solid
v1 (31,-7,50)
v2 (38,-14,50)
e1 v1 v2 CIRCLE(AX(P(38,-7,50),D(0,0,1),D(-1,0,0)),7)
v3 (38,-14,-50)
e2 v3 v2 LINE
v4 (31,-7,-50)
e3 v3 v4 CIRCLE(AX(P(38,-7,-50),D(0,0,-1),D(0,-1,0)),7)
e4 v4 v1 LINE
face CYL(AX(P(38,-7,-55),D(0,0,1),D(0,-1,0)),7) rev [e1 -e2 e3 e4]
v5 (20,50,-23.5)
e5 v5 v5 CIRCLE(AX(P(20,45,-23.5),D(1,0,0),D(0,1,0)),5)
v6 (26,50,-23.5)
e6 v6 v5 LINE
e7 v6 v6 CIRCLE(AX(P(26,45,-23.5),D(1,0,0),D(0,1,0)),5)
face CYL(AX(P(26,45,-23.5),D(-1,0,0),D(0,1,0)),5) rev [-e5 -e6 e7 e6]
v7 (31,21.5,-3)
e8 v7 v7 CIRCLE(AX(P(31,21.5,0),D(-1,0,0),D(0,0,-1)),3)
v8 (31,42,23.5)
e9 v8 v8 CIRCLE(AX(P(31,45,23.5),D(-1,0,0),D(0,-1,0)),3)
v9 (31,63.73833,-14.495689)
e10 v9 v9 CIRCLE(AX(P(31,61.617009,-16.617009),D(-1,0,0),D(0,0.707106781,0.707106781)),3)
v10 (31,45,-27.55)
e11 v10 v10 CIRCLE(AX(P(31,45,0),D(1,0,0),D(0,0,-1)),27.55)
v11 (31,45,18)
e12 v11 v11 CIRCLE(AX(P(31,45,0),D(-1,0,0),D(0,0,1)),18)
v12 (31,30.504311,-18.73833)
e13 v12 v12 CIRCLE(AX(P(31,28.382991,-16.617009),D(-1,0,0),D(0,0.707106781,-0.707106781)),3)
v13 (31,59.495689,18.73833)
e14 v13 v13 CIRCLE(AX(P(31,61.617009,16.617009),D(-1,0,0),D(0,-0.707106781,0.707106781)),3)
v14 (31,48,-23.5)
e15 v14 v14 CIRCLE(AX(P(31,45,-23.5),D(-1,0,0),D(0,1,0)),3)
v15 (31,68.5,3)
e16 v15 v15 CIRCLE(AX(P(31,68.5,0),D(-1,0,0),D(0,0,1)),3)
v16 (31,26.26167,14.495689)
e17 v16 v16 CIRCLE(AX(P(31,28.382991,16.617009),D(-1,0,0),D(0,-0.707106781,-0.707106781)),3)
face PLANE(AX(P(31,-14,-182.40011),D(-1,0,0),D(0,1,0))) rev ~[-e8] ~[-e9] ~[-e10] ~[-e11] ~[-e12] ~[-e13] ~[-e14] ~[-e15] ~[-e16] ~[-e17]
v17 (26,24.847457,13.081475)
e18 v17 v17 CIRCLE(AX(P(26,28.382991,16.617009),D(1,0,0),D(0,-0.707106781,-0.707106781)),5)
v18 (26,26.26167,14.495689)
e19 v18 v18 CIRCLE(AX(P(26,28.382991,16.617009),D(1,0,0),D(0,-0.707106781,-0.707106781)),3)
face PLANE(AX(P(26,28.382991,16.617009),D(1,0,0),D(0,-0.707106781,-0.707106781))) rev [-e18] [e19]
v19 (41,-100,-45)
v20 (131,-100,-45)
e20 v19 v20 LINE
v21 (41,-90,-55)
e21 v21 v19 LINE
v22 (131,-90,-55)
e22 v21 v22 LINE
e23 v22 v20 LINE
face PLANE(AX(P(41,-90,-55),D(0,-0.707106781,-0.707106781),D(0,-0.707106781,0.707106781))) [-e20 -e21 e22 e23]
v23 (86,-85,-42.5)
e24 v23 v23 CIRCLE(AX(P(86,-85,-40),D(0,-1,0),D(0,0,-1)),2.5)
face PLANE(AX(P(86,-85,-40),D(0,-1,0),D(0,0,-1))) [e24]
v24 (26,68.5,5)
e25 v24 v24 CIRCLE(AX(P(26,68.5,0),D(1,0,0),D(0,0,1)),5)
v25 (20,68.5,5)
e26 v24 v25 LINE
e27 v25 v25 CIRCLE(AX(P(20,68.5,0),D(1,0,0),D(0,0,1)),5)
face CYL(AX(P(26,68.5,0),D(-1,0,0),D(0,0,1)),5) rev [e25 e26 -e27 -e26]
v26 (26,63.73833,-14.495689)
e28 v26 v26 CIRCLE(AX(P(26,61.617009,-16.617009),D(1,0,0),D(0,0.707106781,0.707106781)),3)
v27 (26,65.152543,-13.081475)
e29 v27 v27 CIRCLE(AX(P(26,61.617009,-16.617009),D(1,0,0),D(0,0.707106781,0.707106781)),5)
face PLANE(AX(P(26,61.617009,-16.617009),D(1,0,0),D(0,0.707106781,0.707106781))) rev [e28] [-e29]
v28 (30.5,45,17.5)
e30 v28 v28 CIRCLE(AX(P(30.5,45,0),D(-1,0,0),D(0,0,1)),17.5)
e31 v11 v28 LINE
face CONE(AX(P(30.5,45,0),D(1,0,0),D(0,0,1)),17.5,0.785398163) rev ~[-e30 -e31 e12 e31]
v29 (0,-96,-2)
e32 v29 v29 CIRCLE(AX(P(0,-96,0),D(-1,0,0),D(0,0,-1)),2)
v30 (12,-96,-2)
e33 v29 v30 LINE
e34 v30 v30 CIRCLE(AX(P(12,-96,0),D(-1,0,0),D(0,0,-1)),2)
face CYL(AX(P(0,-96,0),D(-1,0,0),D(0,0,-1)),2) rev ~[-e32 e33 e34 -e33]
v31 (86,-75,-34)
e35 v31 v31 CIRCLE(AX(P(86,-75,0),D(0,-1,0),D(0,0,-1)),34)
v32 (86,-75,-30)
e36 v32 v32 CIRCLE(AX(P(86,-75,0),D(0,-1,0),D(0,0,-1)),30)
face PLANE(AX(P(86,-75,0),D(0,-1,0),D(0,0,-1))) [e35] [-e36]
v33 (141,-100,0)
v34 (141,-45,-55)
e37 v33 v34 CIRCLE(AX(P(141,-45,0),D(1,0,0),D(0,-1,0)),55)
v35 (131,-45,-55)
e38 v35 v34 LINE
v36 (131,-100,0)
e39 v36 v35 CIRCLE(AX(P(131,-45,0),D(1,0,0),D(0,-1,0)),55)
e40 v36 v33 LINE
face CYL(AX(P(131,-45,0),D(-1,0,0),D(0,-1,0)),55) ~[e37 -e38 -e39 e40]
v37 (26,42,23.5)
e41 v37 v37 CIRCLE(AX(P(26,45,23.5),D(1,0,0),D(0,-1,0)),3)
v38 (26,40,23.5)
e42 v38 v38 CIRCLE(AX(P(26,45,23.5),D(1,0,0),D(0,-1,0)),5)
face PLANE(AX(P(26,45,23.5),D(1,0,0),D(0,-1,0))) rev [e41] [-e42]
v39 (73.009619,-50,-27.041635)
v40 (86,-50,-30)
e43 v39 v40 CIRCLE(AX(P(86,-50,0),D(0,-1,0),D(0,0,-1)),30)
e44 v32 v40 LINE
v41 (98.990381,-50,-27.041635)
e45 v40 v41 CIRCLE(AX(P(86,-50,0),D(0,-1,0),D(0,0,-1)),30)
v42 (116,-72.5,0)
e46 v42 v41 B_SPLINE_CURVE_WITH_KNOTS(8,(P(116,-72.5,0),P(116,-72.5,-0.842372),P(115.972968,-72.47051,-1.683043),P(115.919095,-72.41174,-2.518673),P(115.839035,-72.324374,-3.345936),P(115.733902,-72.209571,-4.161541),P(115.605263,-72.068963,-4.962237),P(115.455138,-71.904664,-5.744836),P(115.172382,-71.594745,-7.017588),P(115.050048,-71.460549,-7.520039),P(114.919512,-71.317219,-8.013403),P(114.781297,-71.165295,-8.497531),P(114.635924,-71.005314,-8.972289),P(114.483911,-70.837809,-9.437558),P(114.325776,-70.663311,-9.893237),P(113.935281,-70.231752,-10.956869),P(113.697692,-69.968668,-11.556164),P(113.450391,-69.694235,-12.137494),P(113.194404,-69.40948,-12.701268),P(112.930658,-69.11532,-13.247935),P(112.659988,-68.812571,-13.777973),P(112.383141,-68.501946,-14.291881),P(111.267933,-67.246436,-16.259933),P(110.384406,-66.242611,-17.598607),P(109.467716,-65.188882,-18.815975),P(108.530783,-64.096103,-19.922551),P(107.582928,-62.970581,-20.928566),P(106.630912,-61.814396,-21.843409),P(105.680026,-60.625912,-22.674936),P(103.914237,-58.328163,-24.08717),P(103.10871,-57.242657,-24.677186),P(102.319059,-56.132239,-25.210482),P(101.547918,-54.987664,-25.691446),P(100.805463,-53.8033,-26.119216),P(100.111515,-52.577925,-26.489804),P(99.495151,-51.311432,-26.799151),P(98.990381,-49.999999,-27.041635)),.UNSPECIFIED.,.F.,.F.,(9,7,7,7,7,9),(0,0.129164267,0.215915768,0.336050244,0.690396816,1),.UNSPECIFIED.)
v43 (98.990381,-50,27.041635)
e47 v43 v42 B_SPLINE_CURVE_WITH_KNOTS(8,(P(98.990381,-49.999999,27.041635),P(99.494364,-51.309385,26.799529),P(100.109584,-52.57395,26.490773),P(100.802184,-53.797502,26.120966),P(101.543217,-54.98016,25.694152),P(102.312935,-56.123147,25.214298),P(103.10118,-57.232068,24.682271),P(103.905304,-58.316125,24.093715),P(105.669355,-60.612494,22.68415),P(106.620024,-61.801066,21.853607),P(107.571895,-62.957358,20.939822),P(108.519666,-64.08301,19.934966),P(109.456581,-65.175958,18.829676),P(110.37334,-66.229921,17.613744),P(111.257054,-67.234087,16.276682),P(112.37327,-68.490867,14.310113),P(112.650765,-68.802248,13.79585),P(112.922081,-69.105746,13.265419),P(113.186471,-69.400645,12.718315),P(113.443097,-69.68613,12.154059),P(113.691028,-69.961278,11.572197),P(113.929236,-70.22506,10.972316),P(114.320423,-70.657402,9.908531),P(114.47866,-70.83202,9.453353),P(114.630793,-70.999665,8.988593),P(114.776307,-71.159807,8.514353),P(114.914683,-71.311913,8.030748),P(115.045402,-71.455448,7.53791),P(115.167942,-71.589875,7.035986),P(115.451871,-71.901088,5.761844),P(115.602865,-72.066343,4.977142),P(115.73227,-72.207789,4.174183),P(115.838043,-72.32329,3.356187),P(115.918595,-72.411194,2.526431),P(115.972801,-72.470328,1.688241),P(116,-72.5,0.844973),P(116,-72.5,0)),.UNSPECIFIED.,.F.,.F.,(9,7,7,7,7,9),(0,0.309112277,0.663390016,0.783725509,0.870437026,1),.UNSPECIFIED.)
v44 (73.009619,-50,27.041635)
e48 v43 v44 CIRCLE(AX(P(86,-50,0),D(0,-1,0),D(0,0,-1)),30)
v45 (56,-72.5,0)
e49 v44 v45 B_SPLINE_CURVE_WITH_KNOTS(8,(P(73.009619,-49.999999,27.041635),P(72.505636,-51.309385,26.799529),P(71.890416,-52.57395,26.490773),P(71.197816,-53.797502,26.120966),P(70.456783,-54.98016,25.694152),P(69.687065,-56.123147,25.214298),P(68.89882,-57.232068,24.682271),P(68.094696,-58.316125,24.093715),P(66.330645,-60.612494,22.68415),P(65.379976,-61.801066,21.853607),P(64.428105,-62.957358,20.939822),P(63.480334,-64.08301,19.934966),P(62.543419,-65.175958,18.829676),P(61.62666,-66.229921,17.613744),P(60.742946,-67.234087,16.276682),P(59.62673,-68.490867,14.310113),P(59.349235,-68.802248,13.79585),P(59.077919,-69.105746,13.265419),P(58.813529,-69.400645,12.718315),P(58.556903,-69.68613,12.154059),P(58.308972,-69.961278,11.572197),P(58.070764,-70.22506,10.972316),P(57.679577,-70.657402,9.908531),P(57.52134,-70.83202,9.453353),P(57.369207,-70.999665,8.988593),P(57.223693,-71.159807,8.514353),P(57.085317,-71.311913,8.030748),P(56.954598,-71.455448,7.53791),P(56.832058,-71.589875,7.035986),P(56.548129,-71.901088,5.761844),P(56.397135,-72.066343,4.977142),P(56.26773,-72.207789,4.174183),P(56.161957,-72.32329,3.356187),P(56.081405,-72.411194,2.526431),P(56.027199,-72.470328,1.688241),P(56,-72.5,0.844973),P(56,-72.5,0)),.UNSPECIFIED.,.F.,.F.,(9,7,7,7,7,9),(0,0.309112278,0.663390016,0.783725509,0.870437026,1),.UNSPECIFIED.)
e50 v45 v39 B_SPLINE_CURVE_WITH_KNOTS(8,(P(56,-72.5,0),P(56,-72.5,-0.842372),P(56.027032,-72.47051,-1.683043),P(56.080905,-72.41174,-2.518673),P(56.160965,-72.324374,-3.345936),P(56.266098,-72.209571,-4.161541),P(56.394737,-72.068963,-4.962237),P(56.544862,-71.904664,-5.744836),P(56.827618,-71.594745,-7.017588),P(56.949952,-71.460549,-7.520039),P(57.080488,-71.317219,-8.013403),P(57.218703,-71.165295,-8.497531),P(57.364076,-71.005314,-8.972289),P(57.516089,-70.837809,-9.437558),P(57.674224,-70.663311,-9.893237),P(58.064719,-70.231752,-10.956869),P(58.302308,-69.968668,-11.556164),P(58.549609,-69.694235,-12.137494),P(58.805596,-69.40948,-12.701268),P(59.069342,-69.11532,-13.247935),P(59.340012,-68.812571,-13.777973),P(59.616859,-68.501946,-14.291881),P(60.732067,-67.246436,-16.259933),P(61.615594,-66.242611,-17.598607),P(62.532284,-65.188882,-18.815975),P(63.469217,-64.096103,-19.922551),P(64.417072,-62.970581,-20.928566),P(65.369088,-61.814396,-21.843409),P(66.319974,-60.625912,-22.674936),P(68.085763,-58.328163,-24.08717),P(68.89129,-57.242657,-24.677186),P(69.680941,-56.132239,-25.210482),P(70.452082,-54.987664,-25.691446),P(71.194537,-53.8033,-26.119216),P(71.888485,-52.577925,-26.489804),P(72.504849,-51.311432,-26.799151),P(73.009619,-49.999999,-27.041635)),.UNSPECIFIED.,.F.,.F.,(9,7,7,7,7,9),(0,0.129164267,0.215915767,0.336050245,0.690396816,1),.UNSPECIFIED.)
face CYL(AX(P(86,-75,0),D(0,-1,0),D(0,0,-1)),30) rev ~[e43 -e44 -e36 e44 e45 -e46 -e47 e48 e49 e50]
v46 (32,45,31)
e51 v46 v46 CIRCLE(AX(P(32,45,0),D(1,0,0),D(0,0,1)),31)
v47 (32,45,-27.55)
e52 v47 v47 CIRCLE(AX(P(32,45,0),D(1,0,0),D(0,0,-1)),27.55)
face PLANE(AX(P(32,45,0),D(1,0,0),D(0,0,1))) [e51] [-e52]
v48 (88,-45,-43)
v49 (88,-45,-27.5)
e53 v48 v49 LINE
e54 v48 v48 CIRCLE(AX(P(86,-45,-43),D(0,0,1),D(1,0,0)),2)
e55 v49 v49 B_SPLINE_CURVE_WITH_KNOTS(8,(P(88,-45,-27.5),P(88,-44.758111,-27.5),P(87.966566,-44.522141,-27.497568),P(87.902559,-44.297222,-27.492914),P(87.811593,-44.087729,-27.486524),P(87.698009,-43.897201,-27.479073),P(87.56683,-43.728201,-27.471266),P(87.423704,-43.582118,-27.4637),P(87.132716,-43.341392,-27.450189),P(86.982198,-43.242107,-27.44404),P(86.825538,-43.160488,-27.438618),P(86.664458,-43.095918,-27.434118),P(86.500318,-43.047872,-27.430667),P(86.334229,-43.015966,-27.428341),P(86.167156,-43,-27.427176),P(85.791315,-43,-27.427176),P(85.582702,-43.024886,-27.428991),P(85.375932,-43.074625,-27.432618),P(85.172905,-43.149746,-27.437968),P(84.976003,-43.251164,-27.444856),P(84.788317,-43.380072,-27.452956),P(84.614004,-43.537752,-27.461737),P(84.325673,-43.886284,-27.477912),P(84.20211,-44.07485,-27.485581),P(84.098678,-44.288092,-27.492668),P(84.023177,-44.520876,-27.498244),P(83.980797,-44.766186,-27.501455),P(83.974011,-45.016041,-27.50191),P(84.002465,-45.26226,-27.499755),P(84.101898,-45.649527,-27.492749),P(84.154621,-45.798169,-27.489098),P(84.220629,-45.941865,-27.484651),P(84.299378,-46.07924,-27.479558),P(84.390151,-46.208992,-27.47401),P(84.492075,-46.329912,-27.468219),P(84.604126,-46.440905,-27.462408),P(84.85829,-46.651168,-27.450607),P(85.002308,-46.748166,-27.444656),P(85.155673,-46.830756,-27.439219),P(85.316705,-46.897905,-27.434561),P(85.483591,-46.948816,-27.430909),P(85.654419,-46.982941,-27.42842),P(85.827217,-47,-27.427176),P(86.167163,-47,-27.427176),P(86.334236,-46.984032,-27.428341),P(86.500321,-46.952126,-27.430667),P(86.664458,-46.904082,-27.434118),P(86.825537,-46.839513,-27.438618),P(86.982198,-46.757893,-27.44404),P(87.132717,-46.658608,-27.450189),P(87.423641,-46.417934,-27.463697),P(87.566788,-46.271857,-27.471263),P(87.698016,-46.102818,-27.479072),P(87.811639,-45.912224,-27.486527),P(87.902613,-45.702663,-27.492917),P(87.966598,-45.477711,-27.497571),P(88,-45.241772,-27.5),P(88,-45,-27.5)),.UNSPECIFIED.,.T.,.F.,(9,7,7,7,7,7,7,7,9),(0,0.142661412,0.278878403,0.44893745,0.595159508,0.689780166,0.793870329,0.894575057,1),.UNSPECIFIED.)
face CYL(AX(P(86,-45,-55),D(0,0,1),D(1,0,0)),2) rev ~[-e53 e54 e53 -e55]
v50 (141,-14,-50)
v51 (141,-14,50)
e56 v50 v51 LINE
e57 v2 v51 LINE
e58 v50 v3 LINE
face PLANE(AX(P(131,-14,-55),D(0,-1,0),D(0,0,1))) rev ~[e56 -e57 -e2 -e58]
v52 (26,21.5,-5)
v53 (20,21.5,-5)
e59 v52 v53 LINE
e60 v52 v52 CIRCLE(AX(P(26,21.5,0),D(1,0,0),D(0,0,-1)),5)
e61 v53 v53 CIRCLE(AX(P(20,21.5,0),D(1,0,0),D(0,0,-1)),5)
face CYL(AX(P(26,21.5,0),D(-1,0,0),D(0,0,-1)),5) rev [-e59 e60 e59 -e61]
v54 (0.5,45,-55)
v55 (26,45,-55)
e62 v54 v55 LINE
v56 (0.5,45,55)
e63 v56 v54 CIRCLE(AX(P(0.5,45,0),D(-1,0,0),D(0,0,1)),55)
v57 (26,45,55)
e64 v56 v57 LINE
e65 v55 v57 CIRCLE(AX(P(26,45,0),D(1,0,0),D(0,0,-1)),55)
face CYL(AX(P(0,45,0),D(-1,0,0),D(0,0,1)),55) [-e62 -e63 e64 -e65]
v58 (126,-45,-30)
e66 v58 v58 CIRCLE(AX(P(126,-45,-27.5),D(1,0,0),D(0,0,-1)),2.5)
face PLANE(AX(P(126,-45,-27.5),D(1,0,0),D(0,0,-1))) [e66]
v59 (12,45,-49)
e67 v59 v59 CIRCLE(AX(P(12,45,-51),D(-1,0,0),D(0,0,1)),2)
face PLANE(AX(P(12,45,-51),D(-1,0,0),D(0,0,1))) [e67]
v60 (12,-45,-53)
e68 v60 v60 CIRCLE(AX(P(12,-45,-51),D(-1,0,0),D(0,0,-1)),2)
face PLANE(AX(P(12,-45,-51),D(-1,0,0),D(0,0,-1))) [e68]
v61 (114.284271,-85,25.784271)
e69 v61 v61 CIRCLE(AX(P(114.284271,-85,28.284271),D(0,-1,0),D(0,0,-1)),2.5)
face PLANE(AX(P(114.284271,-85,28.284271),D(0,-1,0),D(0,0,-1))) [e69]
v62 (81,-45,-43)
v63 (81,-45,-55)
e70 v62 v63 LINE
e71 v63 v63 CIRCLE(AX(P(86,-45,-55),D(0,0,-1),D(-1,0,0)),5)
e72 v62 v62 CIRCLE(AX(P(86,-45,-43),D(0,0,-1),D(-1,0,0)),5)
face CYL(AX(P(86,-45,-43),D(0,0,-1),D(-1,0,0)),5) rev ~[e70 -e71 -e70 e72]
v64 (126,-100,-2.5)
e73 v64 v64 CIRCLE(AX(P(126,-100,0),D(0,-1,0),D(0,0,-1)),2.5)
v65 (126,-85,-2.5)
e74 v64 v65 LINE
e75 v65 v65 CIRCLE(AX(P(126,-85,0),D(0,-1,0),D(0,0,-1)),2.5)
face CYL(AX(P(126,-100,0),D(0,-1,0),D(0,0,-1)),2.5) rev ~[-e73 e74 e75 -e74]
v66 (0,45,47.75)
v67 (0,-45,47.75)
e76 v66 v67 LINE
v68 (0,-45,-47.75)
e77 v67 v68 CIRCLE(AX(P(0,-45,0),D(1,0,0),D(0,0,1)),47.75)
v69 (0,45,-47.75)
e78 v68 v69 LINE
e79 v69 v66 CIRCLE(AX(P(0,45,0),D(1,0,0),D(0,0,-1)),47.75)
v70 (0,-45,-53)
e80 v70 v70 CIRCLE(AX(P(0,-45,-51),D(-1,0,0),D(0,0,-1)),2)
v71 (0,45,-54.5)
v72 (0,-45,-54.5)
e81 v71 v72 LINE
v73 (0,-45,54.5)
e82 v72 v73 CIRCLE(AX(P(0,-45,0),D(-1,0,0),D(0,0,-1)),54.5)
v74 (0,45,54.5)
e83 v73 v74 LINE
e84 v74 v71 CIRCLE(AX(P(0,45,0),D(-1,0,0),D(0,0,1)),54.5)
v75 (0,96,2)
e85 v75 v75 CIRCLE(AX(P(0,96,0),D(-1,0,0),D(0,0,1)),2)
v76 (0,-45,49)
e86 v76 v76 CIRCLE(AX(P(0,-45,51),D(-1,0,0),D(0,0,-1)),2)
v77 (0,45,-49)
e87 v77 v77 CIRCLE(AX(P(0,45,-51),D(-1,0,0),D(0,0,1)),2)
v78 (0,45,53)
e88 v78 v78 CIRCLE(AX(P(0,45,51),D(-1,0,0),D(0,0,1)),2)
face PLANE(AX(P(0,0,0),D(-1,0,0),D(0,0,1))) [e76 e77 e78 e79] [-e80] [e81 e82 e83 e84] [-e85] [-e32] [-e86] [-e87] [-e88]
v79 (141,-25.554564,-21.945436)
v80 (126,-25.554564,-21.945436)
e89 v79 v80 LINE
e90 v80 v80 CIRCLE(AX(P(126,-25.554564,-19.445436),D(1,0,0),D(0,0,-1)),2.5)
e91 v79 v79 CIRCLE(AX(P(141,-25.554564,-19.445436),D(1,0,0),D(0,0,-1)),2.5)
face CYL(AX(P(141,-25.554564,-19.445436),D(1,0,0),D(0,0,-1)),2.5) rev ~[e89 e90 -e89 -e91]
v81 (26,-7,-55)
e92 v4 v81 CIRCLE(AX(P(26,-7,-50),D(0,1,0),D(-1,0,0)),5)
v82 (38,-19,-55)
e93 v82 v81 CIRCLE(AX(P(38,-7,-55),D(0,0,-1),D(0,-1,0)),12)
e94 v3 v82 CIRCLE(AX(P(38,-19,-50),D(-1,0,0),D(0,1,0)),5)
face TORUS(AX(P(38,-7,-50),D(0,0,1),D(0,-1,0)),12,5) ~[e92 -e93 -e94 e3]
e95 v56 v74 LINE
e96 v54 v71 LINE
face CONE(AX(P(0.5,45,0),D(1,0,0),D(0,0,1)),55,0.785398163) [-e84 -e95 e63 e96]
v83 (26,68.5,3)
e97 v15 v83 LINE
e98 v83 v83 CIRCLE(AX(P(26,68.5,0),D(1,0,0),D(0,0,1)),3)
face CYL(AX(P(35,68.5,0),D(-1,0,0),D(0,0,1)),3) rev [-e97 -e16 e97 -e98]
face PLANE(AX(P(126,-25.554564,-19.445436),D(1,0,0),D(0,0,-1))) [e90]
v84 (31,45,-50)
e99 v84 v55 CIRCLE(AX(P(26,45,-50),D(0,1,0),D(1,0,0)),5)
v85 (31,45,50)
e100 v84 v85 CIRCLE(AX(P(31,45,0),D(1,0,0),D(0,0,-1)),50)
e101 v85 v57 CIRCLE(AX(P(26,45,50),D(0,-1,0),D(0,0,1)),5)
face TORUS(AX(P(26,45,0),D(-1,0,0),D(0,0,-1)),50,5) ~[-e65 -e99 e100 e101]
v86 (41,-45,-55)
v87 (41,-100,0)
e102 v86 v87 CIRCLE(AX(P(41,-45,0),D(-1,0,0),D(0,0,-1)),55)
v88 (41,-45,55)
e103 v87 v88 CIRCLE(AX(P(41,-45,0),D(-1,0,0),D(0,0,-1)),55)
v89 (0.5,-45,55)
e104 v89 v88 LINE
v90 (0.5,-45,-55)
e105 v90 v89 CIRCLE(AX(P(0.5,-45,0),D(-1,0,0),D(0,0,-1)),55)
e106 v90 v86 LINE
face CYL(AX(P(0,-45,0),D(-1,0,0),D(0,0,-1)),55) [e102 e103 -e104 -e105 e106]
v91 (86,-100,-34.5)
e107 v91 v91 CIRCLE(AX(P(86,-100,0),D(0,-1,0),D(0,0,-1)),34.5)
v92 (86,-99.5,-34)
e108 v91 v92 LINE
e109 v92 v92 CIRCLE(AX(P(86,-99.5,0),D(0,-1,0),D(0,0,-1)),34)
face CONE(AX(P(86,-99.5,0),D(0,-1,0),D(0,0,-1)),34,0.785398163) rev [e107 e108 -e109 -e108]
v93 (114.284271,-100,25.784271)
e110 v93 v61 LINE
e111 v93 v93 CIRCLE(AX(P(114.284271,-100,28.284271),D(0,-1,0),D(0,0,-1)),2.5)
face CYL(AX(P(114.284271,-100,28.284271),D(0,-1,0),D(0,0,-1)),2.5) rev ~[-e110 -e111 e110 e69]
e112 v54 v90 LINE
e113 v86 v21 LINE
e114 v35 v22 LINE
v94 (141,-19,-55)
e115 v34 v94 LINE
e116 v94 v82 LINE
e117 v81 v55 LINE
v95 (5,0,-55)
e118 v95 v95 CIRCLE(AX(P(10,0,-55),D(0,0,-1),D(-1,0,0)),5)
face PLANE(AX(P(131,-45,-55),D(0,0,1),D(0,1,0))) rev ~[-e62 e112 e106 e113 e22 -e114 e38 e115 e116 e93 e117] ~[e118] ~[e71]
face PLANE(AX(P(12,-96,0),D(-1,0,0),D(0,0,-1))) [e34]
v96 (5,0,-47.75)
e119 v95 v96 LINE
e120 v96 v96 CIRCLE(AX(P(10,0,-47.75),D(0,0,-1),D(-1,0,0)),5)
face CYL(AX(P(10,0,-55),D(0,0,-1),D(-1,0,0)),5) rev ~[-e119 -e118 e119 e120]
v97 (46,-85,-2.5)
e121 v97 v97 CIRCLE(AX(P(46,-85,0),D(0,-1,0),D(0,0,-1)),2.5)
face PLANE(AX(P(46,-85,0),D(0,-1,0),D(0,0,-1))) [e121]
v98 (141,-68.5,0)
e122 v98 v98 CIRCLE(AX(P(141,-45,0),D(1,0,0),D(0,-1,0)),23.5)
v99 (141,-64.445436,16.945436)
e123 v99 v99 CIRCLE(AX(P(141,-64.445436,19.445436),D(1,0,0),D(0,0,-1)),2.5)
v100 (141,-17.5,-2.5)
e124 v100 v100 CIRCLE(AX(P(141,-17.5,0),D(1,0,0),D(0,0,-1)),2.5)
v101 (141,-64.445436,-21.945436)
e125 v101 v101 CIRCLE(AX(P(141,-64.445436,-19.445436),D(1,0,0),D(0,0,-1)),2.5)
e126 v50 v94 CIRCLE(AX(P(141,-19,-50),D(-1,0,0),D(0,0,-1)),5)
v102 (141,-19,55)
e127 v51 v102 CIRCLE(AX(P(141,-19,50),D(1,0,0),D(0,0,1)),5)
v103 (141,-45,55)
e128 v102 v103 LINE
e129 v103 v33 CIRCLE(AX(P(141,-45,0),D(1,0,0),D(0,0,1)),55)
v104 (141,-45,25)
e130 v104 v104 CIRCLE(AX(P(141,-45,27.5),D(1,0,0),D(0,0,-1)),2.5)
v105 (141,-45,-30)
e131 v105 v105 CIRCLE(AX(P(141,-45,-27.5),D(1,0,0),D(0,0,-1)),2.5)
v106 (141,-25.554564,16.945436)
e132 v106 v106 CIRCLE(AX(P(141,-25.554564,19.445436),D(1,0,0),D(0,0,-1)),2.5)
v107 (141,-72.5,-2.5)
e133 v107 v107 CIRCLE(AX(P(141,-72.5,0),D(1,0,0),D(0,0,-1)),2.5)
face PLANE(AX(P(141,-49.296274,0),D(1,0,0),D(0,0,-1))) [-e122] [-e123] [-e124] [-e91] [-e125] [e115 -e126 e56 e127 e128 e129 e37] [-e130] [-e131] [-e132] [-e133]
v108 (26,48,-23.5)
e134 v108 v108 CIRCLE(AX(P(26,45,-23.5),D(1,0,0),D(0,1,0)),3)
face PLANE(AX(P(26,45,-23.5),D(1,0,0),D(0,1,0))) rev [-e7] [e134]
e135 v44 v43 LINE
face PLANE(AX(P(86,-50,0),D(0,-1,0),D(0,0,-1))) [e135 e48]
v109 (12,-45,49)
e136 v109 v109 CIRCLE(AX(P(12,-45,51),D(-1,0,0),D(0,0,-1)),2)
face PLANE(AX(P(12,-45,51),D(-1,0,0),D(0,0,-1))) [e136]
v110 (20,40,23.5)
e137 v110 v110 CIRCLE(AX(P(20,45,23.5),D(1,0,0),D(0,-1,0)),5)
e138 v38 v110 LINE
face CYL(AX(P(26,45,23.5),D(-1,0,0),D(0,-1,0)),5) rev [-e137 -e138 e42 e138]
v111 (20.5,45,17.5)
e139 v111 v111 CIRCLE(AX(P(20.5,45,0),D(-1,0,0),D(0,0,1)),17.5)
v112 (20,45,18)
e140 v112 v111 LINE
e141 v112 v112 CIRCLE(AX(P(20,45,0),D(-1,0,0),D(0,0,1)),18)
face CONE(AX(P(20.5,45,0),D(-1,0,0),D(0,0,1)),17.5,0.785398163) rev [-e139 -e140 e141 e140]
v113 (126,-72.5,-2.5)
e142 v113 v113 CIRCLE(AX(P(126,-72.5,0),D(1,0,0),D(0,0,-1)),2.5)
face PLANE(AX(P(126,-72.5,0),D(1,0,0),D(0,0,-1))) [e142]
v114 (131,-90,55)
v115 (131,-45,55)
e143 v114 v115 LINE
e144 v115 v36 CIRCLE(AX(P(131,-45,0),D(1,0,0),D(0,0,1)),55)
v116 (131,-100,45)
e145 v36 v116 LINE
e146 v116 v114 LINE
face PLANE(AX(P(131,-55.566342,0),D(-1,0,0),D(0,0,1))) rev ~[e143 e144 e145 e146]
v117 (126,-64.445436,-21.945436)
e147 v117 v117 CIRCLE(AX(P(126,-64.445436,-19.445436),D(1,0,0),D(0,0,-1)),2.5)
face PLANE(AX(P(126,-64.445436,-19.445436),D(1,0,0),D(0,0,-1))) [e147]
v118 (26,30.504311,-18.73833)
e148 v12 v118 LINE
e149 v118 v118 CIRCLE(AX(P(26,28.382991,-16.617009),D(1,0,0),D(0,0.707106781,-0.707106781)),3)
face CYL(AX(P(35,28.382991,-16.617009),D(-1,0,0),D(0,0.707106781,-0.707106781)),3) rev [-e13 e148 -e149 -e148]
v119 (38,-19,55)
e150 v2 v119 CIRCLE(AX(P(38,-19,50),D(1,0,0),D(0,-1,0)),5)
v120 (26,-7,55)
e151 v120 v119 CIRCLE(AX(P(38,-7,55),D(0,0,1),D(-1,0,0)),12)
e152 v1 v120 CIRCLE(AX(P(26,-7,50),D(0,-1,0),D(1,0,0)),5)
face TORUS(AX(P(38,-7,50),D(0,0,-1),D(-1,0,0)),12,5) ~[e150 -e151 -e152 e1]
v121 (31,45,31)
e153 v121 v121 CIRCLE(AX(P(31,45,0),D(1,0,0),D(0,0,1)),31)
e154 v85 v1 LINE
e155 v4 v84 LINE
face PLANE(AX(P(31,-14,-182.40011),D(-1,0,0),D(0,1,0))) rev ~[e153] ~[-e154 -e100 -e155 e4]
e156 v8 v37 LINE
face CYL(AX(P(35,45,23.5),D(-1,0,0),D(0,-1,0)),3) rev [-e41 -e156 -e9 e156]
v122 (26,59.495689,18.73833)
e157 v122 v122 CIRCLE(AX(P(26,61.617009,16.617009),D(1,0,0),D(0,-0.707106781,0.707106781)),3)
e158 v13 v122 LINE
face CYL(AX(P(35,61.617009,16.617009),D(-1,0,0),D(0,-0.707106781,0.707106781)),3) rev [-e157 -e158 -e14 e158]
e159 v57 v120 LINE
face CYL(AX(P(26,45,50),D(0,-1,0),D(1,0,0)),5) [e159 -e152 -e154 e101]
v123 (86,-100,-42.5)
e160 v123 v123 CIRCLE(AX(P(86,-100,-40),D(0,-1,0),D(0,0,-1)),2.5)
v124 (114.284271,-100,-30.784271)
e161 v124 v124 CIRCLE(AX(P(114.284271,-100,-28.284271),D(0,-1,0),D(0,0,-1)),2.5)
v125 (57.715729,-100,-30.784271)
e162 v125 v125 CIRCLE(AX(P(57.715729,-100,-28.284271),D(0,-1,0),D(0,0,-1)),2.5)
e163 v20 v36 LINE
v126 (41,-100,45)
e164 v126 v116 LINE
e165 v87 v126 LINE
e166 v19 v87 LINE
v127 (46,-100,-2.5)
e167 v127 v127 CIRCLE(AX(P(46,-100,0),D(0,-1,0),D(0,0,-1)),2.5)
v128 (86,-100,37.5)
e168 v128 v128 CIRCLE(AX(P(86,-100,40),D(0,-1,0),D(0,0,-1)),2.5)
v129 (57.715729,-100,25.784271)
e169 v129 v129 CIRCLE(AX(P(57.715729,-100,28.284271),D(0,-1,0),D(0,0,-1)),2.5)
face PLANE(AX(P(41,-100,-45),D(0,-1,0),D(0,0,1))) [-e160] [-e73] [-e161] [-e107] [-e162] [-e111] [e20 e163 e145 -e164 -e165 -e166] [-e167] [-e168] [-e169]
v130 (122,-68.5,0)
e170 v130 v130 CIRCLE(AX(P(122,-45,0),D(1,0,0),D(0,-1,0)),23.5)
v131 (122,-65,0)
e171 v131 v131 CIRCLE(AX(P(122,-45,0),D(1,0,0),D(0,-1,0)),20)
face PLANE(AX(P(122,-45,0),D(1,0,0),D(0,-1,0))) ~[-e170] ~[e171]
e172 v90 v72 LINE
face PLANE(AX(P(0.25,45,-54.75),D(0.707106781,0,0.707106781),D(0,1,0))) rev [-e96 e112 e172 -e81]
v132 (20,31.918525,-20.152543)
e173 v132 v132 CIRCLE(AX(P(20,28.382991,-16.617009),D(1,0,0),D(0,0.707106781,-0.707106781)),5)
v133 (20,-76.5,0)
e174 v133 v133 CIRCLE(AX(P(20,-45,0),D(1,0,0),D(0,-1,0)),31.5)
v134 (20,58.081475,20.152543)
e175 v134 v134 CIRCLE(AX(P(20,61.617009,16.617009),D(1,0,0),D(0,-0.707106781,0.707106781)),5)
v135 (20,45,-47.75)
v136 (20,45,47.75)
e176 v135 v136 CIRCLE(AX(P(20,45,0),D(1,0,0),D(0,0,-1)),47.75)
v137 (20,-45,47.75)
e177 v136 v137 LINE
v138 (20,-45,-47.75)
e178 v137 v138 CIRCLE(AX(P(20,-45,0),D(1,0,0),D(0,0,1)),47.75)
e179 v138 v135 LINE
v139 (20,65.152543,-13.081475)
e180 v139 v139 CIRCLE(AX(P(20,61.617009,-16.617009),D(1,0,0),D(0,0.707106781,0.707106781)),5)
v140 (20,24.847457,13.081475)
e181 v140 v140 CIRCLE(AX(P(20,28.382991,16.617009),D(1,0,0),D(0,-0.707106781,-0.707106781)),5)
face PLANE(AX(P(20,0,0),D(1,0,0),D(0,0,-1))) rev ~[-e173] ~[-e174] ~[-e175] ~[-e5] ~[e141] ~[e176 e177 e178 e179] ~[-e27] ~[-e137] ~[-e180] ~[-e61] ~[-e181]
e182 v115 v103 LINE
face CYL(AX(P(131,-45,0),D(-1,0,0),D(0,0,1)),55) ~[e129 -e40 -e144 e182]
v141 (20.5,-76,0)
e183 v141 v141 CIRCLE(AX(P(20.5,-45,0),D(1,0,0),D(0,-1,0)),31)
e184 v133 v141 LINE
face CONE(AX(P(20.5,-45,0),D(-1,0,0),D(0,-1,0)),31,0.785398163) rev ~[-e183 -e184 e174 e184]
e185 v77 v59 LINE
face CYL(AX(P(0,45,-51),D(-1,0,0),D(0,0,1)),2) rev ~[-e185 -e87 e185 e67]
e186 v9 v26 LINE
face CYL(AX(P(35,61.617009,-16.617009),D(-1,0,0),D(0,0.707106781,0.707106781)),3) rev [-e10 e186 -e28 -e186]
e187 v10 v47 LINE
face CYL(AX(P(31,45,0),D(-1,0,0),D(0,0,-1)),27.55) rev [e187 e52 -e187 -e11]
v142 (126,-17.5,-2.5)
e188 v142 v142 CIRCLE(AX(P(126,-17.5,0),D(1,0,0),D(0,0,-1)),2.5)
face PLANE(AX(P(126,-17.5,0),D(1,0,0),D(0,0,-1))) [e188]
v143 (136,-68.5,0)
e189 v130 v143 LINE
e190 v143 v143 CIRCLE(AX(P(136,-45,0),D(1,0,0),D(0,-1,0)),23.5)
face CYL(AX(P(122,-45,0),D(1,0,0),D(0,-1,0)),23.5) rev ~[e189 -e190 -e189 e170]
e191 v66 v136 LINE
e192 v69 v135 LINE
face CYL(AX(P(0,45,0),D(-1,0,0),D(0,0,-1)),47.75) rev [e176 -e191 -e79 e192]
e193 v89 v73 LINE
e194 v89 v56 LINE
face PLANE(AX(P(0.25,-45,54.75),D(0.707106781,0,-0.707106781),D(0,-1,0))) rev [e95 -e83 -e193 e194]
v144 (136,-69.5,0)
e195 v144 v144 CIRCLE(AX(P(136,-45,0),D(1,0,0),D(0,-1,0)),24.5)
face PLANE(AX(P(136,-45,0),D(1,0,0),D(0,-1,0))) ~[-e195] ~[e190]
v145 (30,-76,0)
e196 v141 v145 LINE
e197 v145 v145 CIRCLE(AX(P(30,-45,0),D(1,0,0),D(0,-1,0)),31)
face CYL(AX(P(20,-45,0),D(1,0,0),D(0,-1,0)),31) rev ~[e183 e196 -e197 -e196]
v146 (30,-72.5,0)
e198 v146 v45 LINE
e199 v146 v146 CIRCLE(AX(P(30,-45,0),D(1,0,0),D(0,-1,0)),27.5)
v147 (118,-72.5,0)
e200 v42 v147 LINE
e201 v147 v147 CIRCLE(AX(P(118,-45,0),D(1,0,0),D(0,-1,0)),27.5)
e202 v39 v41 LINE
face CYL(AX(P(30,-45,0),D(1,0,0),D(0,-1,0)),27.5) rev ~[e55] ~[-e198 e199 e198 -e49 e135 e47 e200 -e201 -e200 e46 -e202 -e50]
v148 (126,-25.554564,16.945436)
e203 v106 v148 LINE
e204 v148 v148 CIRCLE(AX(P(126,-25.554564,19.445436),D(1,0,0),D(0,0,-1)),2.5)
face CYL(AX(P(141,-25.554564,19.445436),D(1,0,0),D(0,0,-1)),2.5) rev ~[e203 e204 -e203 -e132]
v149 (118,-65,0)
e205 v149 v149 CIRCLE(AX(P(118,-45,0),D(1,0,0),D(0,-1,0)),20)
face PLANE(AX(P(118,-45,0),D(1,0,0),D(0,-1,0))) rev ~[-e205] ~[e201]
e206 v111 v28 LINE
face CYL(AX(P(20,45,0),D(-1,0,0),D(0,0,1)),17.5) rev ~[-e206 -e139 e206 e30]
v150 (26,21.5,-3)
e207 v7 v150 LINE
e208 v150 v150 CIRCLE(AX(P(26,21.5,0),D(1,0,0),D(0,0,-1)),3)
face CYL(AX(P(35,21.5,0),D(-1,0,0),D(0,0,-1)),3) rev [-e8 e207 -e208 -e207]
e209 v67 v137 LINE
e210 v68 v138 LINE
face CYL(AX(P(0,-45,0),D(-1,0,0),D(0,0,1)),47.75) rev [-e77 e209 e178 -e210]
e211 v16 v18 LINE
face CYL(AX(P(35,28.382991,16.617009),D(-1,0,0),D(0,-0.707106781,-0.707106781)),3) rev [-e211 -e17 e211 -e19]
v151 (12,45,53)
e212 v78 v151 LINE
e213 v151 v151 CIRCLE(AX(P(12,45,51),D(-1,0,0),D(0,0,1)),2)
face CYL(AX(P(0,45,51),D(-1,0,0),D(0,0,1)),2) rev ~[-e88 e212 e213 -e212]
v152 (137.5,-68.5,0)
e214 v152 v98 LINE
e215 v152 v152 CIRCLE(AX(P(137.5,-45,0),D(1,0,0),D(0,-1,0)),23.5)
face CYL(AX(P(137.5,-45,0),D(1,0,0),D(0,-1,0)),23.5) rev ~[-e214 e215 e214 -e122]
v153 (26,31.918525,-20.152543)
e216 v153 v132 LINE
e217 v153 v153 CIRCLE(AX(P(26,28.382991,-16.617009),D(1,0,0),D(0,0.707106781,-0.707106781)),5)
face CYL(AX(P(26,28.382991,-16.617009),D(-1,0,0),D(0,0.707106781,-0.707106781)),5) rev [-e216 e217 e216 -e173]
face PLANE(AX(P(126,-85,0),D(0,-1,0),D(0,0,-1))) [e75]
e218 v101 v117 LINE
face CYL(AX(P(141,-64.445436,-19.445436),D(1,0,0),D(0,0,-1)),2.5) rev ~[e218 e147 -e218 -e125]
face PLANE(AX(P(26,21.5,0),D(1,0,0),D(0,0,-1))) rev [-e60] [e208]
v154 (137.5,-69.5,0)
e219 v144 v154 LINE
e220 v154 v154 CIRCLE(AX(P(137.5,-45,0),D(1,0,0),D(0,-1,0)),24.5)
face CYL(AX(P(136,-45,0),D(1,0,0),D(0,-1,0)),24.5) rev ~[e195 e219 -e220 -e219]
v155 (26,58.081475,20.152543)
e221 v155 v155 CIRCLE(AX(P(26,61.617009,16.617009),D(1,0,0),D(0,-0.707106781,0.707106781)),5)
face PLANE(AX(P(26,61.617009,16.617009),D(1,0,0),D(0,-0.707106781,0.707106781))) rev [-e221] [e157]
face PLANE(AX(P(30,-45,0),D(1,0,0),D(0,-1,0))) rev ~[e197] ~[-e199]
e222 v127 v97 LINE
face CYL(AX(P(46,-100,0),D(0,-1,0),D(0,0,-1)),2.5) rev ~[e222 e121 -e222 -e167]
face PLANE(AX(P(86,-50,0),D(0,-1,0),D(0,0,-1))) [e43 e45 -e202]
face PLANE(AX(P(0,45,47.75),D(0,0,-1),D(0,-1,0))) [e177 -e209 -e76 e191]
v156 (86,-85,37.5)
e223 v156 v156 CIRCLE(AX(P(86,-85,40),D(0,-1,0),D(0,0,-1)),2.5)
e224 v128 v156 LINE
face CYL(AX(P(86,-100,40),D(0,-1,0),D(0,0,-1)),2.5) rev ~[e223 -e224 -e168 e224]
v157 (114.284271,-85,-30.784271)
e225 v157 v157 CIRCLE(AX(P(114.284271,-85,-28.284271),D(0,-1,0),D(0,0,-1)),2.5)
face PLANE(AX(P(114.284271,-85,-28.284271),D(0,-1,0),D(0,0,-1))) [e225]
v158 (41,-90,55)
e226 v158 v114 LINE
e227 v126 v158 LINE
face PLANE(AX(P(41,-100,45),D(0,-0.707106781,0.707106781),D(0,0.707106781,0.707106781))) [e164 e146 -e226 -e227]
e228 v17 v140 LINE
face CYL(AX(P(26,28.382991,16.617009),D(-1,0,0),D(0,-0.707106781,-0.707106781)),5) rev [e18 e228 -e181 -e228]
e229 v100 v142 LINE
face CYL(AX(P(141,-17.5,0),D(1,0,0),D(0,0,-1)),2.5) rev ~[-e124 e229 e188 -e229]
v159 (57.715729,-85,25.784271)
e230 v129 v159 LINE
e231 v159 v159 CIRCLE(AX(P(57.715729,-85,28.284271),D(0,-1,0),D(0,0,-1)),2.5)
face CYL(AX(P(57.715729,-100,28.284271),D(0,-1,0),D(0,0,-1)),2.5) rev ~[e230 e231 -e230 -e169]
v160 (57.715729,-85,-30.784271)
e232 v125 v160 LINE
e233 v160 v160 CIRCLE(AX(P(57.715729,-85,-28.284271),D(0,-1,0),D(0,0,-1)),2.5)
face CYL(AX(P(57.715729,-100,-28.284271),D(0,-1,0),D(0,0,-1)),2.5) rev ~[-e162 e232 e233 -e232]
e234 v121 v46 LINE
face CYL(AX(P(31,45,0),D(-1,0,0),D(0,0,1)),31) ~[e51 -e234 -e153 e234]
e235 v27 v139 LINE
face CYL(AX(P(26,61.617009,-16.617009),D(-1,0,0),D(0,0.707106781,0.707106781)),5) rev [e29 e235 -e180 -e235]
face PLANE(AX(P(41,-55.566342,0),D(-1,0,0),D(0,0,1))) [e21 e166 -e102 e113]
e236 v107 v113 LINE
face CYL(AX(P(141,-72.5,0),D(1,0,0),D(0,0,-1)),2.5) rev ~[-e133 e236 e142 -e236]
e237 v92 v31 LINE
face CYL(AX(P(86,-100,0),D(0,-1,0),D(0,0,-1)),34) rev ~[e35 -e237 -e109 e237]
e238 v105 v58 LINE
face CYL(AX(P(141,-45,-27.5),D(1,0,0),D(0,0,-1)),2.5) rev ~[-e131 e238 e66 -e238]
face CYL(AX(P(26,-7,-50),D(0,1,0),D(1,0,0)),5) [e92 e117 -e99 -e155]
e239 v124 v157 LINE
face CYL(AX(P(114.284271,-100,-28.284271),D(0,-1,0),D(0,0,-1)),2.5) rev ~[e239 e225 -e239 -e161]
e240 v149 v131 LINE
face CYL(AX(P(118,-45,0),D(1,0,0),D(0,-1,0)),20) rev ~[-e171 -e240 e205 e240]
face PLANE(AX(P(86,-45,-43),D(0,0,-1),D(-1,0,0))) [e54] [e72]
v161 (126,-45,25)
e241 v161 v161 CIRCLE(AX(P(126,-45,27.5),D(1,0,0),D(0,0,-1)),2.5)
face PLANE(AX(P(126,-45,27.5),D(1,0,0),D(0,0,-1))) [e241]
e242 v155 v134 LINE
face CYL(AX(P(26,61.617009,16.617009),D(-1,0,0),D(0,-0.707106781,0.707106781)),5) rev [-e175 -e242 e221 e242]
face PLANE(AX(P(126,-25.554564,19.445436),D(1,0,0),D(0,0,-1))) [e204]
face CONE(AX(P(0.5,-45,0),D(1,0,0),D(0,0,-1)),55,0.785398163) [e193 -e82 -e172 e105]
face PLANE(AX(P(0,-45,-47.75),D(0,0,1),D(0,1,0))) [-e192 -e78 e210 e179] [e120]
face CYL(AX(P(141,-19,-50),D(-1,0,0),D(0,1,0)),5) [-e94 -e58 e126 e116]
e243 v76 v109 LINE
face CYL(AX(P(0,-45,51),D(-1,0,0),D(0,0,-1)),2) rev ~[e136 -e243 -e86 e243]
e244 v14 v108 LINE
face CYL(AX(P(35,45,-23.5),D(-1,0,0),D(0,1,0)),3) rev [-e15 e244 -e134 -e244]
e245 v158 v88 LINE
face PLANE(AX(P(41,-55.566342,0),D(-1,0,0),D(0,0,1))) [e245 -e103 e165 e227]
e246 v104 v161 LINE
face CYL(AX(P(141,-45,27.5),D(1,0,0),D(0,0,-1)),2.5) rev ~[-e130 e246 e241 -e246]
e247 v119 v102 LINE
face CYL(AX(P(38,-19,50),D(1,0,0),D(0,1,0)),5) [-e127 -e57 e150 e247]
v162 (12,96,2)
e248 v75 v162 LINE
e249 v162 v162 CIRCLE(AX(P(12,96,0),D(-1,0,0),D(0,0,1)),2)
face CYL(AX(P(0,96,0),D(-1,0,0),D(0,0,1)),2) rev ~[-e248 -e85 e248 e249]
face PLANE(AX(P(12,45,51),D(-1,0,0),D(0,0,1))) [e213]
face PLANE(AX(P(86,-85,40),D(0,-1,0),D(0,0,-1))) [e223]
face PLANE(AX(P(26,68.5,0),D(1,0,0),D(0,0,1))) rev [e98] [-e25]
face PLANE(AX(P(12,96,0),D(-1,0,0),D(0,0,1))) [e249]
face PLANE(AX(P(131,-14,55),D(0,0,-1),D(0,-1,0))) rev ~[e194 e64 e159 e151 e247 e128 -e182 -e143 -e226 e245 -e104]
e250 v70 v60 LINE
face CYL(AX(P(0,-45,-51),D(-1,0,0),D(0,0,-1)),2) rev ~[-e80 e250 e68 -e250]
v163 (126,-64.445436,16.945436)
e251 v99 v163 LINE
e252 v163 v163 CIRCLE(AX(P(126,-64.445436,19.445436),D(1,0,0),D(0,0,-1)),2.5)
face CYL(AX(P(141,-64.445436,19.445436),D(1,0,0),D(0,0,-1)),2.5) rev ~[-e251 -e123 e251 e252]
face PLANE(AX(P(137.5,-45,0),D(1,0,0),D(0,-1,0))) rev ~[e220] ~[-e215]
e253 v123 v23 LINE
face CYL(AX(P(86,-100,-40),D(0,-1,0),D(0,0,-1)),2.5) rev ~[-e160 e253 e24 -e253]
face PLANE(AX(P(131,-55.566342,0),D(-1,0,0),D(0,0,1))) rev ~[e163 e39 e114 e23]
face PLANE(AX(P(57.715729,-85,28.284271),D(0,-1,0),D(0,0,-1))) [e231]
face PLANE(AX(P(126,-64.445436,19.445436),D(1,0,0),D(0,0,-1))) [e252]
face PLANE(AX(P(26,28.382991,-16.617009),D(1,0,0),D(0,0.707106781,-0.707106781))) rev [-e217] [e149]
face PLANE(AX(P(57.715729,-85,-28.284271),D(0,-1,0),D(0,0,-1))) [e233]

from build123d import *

# Parameters (mm, degrees)
EXTRUDE_1_DEPTH                = 41
EXTRUDE_2_DEPTH                = 90
EXTRUDE_3_DEPTH                = 10
CUT_EXTRUDE_1_DEPTH            = 182.400110254
CUT_EXTRUDE_1_DEPTH_BACK       = 182.400110254
SKETCH_4_W                     = 10
SKETCH_4_H                     = 114
SKETCH_5_R                     = 31
SKETCH_5_R_2                   = 27.55
EXTRUDE_4_DEPTH                = 1
CUT_EXTRUDE_2_DEPTH            = 20
SKETCH_7_R                     = 2
CUT_EXTRUDE_3_DEPTH            = 12
CUT_EXTRUDE_4_REACH            = 206.893
SKETCH_8_R                     = 5
SKETCH_10_R                    = 17.5
CUT_EXTRUDE_5_DEPTH            = 167.330995308
PATTERN_CIRCULAR_1_COUNT       = 8
SKETCH_14_R                    = 2.5
CUT_EXTRUDE_6_DEPTH            = 15
SKETCH_15_R                    = 34
CUT_EXTRUDE_7_DEPTH            = 25
SKETCH_16_R                    = 30
CUT_EXTRUDE_8_DEPTH            = 25
SKETCH_17_R                    = 2.5
CUT_EXTRUDE_9_DEPTH            = 15
HOLE_WIZARD_M1_6_2_D           = 4
HOLE_WIZARD_M1_6_2_DEPTH       = 30
HOLE_WIZARD_M1_6_2_CBORE_D     = 10
HOLE_WIZARD_M1_6_2_CBORE_DEPTH = 12
HOLE_WIZARD_M1_6_2_TIP         = 1.201721238
FILLET_2_R                     = 7
FILLET_1_R                     = 5
CHAMFER_1_SIZE                 = 0.5


with BuildPart() as part:
    # 草图1 → 凸台-拉伸1 (new body)
    with BuildSketch(Plane(origin=(0, 0, 0), x_dir=(0, 0, -1), z_dir=(1, 0, 0))):
        with BuildLine():
            Line((55, 45), (55, -45))
            ThreePointArc((55, -45), (0, -100), (-55, -45))
            Line((-55, -45), (-55, 45))
            ThreePointArc((-55, 45), (0, 100), (55, 45))
        make_face()
    extrude(amount=EXTRUDE_1_DEPTH)

    # 草图2 → 凸台-拉伸2 (add)
    with BuildSketch(Plane(origin=(41, 0, 0), x_dir=(0, 0, -1), z_dir=(1, 0, 0))):
        Polygon((-55, -14), (55, -14), (55, -90), (45, -100), (-45, -100), (-55, -90), align=None)
    extrude(amount=EXTRUDE_2_DEPTH)

    # 草图3 → 凸台-拉伸3 (add)
    with BuildSketch(Plane(origin=(131, 0, 0), x_dir=(0, 0, -1), z_dir=(1, 0, 0))):
        with BuildLine():
            Line((55, -14), (-55, -14))
            Line((-55, -14), (-55, -45))
            ThreePointArc((-55, -45), (-38.890872965, -83.890872965), (0, -100))
            ThreePointArc((0, -100), (38.890872965, -83.890872965), (55, -45))
            Line((55, -45), (55, -14))
        make_face()
    extrude(amount=EXTRUDE_3_DEPTH)

    # 草图4 → 切除-拉伸1 (cut, two sides: drawn at the far end of the back side and taken through both)
    with BuildSketch(Plane.XY.offset(-CUT_EXTRUDE_1_DEPTH_BACK)):
        with Locations((36, 43)):
            Rectangle(SKETCH_4_W, SKETCH_4_H)
    extrude(amount=CUT_EXTRUDE_1_DEPTH + CUT_EXTRUDE_1_DEPTH_BACK, mode=Mode.SUBTRACT)

    # 草图5 → 凸台-拉伸4 (add)
    with BuildSketch(Plane(origin=(31, 0, 0), x_dir=(0, 0, -1), z_dir=(1, 0, 0))):
        with Locations(Location((0, 45, 0), (0, 0, 180))):
            Circle(SKETCH_5_R)
        with Locations((0, 45)):
            Circle(SKETCH_5_R_2, mode=Mode.SUBTRACT)
    extrude(amount=EXTRUDE_4_DEPTH)

    # 草图6 → 切除-拉伸2 (cut)
    with BuildSketch(Plane.ZY):
        with BuildLine():
            Line((47.75, 45), (47.75, -45))
            ThreePointArc((47.75, -45), (0, -92.75), (-47.75, -45))
            Line((-47.75, -45), (-47.75, 45))
            ThreePointArc((-47.75, 45), (0, 92.75), (47.75, 45))
        make_face()
    extrude(amount=-CUT_EXTRUDE_2_DEPTH, mode=Mode.SUBTRACT)

    # 草图7 → 切除-拉伸3 (cut)
    with BuildSketch(Plane.ZY):
        with Locations((0, 96)):
            Circle(SKETCH_7_R)
        with Locations((-51, 45)):
            Circle(SKETCH_7_R)
        with Locations((51, 45)):
            Circle(SKETCH_7_R)
        with Locations(Location((51, -45, 0), (0, 0, 180))):
            Circle(SKETCH_7_R)
        with Locations(Location((-51, -45, 0), (0, 0, 180))):
            Circle(SKETCH_7_R)
        with Locations(Location((0, -96, 0), (0, 0, 180))):
            Circle(SKETCH_7_R)
    extrude(amount=-CUT_EXTRUDE_3_DEPTH, mode=Mode.SUBTRACT)

    # 草图8 → 切除-拉伸4 (cut, up to next)
    with BuildSketch(Plane(origin=(0, 0, -55), x_dir=(-1, 0, 0), z_dir=(0, 0, -1)), mode=Mode.PRIVATE) as cut_extrude_4_sk1:
        with Locations((-10, 0)):
            Circle(SKETCH_8_R)
    cut_extrude_4_tool1 = extrude(cut_extrude_4_sk1.sketch, amount=-CUT_EXTRUDE_4_REACH, mode=Mode.PRIVATE) & part.part
    add(cut_extrude_4_tool1.solids().sort_by_distance((10, 0, -55))[0], mode=Mode.SUBTRACT)

    # 草图10 → 切除-拉伸5 (cut, through all)
    with BuildSketch(Plane.ZY.offset(-20)):
        with Locations((0, 45)):
            Circle(SKETCH_10_R)
    extrude(amount=-CUT_EXTRUDE_5_DEPTH, mode=Mode.SUBTRACT)

    # 草图12 → M1.6 六角头螺栓的柱形沉头孔1 (revolve, cut)
    with BuildSketch(Plane(origin=(20, 68.5, 0), x_dir=(0, 0, 1), z_dir=(0, 1, 0))):
        Polygon((0, 0), (0, 16.802581857), (3, 15), (3, 6), (5, 6), (5, 0), align=None)
    hole_wizard_m1_6_1 = revolve(axis=Axis((13.65, 68.5, 0), (1, 0, 0)), mode=Mode.SUBTRACT)

    # 阵列(圆周)1: M1.6 六角头螺栓的柱形沉头孔1 ×8 about axis
    pattern_circular_1_axis = Axis((0, 45, 0), (1, 0, 0))
    for i in range(1, PATTERN_CIRCULAR_1_COUNT):
        add(hole_wizard_m1_6_1.rotate(pattern_circular_1_axis, i * 360 / PATTERN_CIRCULAR_1_COUNT), mode=Mode.SUBTRACT)

    # 草图13 → 切除-旋转1 (revolve, cut)
    with BuildSketch(Plane.XY, mode=Mode.PRIVATE) as cut_revolve_1_sk:
        Polygon((20, -45), (20, -14), (30, -14), (30, -17.5), (118, -17.5), (118, -25), (122, -25), (122, -21.5), (136, -21.5), (136, -20.5), (137.5, -20.5), (137.5, -21.5), (141, -21.5), (141, -45), align=None)
    revolve(cut_revolve_1_sk.sketch.rotate(Axis((20, -45, 0), (1, 0, 0)), 180), axis=Axis((20, -45, 0), (1, 0, 0)), mode=Mode.SUBTRACT)

    # 草图14 → 切除-拉伸6 (cut)
    with BuildSketch(Plane(origin=(141, 0, 0), x_dir=(0, 0, -1), z_dir=(1, 0, 0))):
        with Locations((0, -17.5)):
            Circle(SKETCH_14_R)
        with Locations((19.445436483, -25.554563517)):
            Circle(SKETCH_14_R)
        with Locations((27.5, -45)):
            Circle(SKETCH_14_R)
        with Locations((19.445436483, -64.445436483)):
            Circle(SKETCH_14_R)
        with Locations((0, -72.5)):
            Circle(SKETCH_14_R)
        with Locations((-19.445436483, -64.445436483)):
            Circle(SKETCH_14_R)
        with Locations((-27.5, -45)):
            Circle(SKETCH_14_R)
        with Locations((-19.445436483, -25.554563517)):
            Circle(SKETCH_14_R)
    extrude(amount=-CUT_EXTRUDE_6_DEPTH, mode=Mode.SUBTRACT)

    # 草图15 → 切除-拉伸7 (cut)
    with BuildSketch(Plane.XZ.offset(100)):
        with Locations(Location((86, 0, 0), (0, 0, 270))):
            Circle(SKETCH_15_R)
    extrude(amount=-CUT_EXTRUDE_7_DEPTH, mode=Mode.SUBTRACT)

    # 草图16 → 切除-拉伸8 (cut)
    with BuildSketch(Plane.XZ.offset(75)):
        with Locations(Location((86, 0, 0), (0, 0, 270))):
            Circle(SKETCH_16_R)
    extrude(amount=-CUT_EXTRUDE_8_DEPTH, mode=Mode.SUBTRACT)

    # 草图17 → 切除-拉伸9 (cut)
    with BuildSketch(Plane.XZ.offset(100)):
        with Locations(Location((86, 40, 0), (0, 0, 270))):
            Circle(SKETCH_17_R)
        with Locations(Location((114.284271247, 28.284271247, 0), (0, 0, 270))):
            Circle(SKETCH_17_R)
        with Locations(Location((126, 0, 0), (0, 0, 270))):
            Circle(SKETCH_17_R)
        with Locations(Location((114.284271247, -28.284271247, 0), (0, 0, 270))):
            Circle(SKETCH_17_R)
        with Locations(Location((86, -40, 0), (0, 0, 270))):
            Circle(SKETCH_17_R)
        with Locations(Location((57.715728753, -28.284271247, 0), (0, 0, 270))):
            Circle(SKETCH_17_R)
        with Locations(Location((46, 0, 0), (0, 0, 270))):
            Circle(SKETCH_17_R)
        with Locations(Location((57.715728753, 28.284271247, 0), (0, 0, 270))):
            Circle(SKETCH_17_R)
    extrude(amount=-CUT_EXTRUDE_9_DEPTH, mode=Mode.SUBTRACT)

    # M1.6 六角头螺栓的柱形沉头孔2
    with Locations(Plane(origin=(0, 0, -55), x_dir=(-1, 0, 0), z_dir=(0, 0, -1))):
        with Locations((-86, -45)):
            CounterBoreHole(HOLE_WIZARD_M1_6_2_D / 2, HOLE_WIZARD_M1_6_2_CBORE_D / 2, HOLE_WIZARD_M1_6_2_CBORE_DEPTH, depth=HOLE_WIZARD_M1_6_2_DEPTH)
            with Locations((0, 0, -(HOLE_WIZARD_M1_6_2_DEPTH + HOLE_WIZARD_M1_6_2_TIP / 2))):  # 118° drill point
                Cone(0, HOLE_WIZARD_M1_6_2_D / 2, HOLE_WIZARD_M1_6_2_TIP, mode=Mode.SUBTRACT)

    # 圆角2
    fillet_2_edges = [part.edges().sort_by_distance(p)[0] for p in [
        (31, -14, 0),
    ]]
    fillet(fillet_2_edges, radius=FILLET_2_R)

    # 圆角1
    fillet_1_edges = [part.edges().sort_by_distance(p)[0] for p in [
        (89.5, -14, 55),
        (89.5, -14, -55),
        (33.050252532, -11.949747468, 55),
        (33.050252532, -11.949747468, -55),
        (31, 100, 0),
        (31, 19, -55),
        (31, 19, 55),
    ]]
    fillet(fillet_1_edges, radius=FILLET_1_R)

    # 倒角1
    chamfer_1_edges = [part.edges().sort_by_distance(p)[0] for p in [
        (31, 45, -17.5),
        (20, 45, -17.5),
        (20, -14, 0),
        (86, -100, 34),
        (0, 0, -55),
        (0, -100, 0),
        (0, 0, 55),
        (0, 100, 0),
    ]]
    chamfer(chamfer_1_edges, length=CHAMFER_1_SIZE)


solid = part.part
